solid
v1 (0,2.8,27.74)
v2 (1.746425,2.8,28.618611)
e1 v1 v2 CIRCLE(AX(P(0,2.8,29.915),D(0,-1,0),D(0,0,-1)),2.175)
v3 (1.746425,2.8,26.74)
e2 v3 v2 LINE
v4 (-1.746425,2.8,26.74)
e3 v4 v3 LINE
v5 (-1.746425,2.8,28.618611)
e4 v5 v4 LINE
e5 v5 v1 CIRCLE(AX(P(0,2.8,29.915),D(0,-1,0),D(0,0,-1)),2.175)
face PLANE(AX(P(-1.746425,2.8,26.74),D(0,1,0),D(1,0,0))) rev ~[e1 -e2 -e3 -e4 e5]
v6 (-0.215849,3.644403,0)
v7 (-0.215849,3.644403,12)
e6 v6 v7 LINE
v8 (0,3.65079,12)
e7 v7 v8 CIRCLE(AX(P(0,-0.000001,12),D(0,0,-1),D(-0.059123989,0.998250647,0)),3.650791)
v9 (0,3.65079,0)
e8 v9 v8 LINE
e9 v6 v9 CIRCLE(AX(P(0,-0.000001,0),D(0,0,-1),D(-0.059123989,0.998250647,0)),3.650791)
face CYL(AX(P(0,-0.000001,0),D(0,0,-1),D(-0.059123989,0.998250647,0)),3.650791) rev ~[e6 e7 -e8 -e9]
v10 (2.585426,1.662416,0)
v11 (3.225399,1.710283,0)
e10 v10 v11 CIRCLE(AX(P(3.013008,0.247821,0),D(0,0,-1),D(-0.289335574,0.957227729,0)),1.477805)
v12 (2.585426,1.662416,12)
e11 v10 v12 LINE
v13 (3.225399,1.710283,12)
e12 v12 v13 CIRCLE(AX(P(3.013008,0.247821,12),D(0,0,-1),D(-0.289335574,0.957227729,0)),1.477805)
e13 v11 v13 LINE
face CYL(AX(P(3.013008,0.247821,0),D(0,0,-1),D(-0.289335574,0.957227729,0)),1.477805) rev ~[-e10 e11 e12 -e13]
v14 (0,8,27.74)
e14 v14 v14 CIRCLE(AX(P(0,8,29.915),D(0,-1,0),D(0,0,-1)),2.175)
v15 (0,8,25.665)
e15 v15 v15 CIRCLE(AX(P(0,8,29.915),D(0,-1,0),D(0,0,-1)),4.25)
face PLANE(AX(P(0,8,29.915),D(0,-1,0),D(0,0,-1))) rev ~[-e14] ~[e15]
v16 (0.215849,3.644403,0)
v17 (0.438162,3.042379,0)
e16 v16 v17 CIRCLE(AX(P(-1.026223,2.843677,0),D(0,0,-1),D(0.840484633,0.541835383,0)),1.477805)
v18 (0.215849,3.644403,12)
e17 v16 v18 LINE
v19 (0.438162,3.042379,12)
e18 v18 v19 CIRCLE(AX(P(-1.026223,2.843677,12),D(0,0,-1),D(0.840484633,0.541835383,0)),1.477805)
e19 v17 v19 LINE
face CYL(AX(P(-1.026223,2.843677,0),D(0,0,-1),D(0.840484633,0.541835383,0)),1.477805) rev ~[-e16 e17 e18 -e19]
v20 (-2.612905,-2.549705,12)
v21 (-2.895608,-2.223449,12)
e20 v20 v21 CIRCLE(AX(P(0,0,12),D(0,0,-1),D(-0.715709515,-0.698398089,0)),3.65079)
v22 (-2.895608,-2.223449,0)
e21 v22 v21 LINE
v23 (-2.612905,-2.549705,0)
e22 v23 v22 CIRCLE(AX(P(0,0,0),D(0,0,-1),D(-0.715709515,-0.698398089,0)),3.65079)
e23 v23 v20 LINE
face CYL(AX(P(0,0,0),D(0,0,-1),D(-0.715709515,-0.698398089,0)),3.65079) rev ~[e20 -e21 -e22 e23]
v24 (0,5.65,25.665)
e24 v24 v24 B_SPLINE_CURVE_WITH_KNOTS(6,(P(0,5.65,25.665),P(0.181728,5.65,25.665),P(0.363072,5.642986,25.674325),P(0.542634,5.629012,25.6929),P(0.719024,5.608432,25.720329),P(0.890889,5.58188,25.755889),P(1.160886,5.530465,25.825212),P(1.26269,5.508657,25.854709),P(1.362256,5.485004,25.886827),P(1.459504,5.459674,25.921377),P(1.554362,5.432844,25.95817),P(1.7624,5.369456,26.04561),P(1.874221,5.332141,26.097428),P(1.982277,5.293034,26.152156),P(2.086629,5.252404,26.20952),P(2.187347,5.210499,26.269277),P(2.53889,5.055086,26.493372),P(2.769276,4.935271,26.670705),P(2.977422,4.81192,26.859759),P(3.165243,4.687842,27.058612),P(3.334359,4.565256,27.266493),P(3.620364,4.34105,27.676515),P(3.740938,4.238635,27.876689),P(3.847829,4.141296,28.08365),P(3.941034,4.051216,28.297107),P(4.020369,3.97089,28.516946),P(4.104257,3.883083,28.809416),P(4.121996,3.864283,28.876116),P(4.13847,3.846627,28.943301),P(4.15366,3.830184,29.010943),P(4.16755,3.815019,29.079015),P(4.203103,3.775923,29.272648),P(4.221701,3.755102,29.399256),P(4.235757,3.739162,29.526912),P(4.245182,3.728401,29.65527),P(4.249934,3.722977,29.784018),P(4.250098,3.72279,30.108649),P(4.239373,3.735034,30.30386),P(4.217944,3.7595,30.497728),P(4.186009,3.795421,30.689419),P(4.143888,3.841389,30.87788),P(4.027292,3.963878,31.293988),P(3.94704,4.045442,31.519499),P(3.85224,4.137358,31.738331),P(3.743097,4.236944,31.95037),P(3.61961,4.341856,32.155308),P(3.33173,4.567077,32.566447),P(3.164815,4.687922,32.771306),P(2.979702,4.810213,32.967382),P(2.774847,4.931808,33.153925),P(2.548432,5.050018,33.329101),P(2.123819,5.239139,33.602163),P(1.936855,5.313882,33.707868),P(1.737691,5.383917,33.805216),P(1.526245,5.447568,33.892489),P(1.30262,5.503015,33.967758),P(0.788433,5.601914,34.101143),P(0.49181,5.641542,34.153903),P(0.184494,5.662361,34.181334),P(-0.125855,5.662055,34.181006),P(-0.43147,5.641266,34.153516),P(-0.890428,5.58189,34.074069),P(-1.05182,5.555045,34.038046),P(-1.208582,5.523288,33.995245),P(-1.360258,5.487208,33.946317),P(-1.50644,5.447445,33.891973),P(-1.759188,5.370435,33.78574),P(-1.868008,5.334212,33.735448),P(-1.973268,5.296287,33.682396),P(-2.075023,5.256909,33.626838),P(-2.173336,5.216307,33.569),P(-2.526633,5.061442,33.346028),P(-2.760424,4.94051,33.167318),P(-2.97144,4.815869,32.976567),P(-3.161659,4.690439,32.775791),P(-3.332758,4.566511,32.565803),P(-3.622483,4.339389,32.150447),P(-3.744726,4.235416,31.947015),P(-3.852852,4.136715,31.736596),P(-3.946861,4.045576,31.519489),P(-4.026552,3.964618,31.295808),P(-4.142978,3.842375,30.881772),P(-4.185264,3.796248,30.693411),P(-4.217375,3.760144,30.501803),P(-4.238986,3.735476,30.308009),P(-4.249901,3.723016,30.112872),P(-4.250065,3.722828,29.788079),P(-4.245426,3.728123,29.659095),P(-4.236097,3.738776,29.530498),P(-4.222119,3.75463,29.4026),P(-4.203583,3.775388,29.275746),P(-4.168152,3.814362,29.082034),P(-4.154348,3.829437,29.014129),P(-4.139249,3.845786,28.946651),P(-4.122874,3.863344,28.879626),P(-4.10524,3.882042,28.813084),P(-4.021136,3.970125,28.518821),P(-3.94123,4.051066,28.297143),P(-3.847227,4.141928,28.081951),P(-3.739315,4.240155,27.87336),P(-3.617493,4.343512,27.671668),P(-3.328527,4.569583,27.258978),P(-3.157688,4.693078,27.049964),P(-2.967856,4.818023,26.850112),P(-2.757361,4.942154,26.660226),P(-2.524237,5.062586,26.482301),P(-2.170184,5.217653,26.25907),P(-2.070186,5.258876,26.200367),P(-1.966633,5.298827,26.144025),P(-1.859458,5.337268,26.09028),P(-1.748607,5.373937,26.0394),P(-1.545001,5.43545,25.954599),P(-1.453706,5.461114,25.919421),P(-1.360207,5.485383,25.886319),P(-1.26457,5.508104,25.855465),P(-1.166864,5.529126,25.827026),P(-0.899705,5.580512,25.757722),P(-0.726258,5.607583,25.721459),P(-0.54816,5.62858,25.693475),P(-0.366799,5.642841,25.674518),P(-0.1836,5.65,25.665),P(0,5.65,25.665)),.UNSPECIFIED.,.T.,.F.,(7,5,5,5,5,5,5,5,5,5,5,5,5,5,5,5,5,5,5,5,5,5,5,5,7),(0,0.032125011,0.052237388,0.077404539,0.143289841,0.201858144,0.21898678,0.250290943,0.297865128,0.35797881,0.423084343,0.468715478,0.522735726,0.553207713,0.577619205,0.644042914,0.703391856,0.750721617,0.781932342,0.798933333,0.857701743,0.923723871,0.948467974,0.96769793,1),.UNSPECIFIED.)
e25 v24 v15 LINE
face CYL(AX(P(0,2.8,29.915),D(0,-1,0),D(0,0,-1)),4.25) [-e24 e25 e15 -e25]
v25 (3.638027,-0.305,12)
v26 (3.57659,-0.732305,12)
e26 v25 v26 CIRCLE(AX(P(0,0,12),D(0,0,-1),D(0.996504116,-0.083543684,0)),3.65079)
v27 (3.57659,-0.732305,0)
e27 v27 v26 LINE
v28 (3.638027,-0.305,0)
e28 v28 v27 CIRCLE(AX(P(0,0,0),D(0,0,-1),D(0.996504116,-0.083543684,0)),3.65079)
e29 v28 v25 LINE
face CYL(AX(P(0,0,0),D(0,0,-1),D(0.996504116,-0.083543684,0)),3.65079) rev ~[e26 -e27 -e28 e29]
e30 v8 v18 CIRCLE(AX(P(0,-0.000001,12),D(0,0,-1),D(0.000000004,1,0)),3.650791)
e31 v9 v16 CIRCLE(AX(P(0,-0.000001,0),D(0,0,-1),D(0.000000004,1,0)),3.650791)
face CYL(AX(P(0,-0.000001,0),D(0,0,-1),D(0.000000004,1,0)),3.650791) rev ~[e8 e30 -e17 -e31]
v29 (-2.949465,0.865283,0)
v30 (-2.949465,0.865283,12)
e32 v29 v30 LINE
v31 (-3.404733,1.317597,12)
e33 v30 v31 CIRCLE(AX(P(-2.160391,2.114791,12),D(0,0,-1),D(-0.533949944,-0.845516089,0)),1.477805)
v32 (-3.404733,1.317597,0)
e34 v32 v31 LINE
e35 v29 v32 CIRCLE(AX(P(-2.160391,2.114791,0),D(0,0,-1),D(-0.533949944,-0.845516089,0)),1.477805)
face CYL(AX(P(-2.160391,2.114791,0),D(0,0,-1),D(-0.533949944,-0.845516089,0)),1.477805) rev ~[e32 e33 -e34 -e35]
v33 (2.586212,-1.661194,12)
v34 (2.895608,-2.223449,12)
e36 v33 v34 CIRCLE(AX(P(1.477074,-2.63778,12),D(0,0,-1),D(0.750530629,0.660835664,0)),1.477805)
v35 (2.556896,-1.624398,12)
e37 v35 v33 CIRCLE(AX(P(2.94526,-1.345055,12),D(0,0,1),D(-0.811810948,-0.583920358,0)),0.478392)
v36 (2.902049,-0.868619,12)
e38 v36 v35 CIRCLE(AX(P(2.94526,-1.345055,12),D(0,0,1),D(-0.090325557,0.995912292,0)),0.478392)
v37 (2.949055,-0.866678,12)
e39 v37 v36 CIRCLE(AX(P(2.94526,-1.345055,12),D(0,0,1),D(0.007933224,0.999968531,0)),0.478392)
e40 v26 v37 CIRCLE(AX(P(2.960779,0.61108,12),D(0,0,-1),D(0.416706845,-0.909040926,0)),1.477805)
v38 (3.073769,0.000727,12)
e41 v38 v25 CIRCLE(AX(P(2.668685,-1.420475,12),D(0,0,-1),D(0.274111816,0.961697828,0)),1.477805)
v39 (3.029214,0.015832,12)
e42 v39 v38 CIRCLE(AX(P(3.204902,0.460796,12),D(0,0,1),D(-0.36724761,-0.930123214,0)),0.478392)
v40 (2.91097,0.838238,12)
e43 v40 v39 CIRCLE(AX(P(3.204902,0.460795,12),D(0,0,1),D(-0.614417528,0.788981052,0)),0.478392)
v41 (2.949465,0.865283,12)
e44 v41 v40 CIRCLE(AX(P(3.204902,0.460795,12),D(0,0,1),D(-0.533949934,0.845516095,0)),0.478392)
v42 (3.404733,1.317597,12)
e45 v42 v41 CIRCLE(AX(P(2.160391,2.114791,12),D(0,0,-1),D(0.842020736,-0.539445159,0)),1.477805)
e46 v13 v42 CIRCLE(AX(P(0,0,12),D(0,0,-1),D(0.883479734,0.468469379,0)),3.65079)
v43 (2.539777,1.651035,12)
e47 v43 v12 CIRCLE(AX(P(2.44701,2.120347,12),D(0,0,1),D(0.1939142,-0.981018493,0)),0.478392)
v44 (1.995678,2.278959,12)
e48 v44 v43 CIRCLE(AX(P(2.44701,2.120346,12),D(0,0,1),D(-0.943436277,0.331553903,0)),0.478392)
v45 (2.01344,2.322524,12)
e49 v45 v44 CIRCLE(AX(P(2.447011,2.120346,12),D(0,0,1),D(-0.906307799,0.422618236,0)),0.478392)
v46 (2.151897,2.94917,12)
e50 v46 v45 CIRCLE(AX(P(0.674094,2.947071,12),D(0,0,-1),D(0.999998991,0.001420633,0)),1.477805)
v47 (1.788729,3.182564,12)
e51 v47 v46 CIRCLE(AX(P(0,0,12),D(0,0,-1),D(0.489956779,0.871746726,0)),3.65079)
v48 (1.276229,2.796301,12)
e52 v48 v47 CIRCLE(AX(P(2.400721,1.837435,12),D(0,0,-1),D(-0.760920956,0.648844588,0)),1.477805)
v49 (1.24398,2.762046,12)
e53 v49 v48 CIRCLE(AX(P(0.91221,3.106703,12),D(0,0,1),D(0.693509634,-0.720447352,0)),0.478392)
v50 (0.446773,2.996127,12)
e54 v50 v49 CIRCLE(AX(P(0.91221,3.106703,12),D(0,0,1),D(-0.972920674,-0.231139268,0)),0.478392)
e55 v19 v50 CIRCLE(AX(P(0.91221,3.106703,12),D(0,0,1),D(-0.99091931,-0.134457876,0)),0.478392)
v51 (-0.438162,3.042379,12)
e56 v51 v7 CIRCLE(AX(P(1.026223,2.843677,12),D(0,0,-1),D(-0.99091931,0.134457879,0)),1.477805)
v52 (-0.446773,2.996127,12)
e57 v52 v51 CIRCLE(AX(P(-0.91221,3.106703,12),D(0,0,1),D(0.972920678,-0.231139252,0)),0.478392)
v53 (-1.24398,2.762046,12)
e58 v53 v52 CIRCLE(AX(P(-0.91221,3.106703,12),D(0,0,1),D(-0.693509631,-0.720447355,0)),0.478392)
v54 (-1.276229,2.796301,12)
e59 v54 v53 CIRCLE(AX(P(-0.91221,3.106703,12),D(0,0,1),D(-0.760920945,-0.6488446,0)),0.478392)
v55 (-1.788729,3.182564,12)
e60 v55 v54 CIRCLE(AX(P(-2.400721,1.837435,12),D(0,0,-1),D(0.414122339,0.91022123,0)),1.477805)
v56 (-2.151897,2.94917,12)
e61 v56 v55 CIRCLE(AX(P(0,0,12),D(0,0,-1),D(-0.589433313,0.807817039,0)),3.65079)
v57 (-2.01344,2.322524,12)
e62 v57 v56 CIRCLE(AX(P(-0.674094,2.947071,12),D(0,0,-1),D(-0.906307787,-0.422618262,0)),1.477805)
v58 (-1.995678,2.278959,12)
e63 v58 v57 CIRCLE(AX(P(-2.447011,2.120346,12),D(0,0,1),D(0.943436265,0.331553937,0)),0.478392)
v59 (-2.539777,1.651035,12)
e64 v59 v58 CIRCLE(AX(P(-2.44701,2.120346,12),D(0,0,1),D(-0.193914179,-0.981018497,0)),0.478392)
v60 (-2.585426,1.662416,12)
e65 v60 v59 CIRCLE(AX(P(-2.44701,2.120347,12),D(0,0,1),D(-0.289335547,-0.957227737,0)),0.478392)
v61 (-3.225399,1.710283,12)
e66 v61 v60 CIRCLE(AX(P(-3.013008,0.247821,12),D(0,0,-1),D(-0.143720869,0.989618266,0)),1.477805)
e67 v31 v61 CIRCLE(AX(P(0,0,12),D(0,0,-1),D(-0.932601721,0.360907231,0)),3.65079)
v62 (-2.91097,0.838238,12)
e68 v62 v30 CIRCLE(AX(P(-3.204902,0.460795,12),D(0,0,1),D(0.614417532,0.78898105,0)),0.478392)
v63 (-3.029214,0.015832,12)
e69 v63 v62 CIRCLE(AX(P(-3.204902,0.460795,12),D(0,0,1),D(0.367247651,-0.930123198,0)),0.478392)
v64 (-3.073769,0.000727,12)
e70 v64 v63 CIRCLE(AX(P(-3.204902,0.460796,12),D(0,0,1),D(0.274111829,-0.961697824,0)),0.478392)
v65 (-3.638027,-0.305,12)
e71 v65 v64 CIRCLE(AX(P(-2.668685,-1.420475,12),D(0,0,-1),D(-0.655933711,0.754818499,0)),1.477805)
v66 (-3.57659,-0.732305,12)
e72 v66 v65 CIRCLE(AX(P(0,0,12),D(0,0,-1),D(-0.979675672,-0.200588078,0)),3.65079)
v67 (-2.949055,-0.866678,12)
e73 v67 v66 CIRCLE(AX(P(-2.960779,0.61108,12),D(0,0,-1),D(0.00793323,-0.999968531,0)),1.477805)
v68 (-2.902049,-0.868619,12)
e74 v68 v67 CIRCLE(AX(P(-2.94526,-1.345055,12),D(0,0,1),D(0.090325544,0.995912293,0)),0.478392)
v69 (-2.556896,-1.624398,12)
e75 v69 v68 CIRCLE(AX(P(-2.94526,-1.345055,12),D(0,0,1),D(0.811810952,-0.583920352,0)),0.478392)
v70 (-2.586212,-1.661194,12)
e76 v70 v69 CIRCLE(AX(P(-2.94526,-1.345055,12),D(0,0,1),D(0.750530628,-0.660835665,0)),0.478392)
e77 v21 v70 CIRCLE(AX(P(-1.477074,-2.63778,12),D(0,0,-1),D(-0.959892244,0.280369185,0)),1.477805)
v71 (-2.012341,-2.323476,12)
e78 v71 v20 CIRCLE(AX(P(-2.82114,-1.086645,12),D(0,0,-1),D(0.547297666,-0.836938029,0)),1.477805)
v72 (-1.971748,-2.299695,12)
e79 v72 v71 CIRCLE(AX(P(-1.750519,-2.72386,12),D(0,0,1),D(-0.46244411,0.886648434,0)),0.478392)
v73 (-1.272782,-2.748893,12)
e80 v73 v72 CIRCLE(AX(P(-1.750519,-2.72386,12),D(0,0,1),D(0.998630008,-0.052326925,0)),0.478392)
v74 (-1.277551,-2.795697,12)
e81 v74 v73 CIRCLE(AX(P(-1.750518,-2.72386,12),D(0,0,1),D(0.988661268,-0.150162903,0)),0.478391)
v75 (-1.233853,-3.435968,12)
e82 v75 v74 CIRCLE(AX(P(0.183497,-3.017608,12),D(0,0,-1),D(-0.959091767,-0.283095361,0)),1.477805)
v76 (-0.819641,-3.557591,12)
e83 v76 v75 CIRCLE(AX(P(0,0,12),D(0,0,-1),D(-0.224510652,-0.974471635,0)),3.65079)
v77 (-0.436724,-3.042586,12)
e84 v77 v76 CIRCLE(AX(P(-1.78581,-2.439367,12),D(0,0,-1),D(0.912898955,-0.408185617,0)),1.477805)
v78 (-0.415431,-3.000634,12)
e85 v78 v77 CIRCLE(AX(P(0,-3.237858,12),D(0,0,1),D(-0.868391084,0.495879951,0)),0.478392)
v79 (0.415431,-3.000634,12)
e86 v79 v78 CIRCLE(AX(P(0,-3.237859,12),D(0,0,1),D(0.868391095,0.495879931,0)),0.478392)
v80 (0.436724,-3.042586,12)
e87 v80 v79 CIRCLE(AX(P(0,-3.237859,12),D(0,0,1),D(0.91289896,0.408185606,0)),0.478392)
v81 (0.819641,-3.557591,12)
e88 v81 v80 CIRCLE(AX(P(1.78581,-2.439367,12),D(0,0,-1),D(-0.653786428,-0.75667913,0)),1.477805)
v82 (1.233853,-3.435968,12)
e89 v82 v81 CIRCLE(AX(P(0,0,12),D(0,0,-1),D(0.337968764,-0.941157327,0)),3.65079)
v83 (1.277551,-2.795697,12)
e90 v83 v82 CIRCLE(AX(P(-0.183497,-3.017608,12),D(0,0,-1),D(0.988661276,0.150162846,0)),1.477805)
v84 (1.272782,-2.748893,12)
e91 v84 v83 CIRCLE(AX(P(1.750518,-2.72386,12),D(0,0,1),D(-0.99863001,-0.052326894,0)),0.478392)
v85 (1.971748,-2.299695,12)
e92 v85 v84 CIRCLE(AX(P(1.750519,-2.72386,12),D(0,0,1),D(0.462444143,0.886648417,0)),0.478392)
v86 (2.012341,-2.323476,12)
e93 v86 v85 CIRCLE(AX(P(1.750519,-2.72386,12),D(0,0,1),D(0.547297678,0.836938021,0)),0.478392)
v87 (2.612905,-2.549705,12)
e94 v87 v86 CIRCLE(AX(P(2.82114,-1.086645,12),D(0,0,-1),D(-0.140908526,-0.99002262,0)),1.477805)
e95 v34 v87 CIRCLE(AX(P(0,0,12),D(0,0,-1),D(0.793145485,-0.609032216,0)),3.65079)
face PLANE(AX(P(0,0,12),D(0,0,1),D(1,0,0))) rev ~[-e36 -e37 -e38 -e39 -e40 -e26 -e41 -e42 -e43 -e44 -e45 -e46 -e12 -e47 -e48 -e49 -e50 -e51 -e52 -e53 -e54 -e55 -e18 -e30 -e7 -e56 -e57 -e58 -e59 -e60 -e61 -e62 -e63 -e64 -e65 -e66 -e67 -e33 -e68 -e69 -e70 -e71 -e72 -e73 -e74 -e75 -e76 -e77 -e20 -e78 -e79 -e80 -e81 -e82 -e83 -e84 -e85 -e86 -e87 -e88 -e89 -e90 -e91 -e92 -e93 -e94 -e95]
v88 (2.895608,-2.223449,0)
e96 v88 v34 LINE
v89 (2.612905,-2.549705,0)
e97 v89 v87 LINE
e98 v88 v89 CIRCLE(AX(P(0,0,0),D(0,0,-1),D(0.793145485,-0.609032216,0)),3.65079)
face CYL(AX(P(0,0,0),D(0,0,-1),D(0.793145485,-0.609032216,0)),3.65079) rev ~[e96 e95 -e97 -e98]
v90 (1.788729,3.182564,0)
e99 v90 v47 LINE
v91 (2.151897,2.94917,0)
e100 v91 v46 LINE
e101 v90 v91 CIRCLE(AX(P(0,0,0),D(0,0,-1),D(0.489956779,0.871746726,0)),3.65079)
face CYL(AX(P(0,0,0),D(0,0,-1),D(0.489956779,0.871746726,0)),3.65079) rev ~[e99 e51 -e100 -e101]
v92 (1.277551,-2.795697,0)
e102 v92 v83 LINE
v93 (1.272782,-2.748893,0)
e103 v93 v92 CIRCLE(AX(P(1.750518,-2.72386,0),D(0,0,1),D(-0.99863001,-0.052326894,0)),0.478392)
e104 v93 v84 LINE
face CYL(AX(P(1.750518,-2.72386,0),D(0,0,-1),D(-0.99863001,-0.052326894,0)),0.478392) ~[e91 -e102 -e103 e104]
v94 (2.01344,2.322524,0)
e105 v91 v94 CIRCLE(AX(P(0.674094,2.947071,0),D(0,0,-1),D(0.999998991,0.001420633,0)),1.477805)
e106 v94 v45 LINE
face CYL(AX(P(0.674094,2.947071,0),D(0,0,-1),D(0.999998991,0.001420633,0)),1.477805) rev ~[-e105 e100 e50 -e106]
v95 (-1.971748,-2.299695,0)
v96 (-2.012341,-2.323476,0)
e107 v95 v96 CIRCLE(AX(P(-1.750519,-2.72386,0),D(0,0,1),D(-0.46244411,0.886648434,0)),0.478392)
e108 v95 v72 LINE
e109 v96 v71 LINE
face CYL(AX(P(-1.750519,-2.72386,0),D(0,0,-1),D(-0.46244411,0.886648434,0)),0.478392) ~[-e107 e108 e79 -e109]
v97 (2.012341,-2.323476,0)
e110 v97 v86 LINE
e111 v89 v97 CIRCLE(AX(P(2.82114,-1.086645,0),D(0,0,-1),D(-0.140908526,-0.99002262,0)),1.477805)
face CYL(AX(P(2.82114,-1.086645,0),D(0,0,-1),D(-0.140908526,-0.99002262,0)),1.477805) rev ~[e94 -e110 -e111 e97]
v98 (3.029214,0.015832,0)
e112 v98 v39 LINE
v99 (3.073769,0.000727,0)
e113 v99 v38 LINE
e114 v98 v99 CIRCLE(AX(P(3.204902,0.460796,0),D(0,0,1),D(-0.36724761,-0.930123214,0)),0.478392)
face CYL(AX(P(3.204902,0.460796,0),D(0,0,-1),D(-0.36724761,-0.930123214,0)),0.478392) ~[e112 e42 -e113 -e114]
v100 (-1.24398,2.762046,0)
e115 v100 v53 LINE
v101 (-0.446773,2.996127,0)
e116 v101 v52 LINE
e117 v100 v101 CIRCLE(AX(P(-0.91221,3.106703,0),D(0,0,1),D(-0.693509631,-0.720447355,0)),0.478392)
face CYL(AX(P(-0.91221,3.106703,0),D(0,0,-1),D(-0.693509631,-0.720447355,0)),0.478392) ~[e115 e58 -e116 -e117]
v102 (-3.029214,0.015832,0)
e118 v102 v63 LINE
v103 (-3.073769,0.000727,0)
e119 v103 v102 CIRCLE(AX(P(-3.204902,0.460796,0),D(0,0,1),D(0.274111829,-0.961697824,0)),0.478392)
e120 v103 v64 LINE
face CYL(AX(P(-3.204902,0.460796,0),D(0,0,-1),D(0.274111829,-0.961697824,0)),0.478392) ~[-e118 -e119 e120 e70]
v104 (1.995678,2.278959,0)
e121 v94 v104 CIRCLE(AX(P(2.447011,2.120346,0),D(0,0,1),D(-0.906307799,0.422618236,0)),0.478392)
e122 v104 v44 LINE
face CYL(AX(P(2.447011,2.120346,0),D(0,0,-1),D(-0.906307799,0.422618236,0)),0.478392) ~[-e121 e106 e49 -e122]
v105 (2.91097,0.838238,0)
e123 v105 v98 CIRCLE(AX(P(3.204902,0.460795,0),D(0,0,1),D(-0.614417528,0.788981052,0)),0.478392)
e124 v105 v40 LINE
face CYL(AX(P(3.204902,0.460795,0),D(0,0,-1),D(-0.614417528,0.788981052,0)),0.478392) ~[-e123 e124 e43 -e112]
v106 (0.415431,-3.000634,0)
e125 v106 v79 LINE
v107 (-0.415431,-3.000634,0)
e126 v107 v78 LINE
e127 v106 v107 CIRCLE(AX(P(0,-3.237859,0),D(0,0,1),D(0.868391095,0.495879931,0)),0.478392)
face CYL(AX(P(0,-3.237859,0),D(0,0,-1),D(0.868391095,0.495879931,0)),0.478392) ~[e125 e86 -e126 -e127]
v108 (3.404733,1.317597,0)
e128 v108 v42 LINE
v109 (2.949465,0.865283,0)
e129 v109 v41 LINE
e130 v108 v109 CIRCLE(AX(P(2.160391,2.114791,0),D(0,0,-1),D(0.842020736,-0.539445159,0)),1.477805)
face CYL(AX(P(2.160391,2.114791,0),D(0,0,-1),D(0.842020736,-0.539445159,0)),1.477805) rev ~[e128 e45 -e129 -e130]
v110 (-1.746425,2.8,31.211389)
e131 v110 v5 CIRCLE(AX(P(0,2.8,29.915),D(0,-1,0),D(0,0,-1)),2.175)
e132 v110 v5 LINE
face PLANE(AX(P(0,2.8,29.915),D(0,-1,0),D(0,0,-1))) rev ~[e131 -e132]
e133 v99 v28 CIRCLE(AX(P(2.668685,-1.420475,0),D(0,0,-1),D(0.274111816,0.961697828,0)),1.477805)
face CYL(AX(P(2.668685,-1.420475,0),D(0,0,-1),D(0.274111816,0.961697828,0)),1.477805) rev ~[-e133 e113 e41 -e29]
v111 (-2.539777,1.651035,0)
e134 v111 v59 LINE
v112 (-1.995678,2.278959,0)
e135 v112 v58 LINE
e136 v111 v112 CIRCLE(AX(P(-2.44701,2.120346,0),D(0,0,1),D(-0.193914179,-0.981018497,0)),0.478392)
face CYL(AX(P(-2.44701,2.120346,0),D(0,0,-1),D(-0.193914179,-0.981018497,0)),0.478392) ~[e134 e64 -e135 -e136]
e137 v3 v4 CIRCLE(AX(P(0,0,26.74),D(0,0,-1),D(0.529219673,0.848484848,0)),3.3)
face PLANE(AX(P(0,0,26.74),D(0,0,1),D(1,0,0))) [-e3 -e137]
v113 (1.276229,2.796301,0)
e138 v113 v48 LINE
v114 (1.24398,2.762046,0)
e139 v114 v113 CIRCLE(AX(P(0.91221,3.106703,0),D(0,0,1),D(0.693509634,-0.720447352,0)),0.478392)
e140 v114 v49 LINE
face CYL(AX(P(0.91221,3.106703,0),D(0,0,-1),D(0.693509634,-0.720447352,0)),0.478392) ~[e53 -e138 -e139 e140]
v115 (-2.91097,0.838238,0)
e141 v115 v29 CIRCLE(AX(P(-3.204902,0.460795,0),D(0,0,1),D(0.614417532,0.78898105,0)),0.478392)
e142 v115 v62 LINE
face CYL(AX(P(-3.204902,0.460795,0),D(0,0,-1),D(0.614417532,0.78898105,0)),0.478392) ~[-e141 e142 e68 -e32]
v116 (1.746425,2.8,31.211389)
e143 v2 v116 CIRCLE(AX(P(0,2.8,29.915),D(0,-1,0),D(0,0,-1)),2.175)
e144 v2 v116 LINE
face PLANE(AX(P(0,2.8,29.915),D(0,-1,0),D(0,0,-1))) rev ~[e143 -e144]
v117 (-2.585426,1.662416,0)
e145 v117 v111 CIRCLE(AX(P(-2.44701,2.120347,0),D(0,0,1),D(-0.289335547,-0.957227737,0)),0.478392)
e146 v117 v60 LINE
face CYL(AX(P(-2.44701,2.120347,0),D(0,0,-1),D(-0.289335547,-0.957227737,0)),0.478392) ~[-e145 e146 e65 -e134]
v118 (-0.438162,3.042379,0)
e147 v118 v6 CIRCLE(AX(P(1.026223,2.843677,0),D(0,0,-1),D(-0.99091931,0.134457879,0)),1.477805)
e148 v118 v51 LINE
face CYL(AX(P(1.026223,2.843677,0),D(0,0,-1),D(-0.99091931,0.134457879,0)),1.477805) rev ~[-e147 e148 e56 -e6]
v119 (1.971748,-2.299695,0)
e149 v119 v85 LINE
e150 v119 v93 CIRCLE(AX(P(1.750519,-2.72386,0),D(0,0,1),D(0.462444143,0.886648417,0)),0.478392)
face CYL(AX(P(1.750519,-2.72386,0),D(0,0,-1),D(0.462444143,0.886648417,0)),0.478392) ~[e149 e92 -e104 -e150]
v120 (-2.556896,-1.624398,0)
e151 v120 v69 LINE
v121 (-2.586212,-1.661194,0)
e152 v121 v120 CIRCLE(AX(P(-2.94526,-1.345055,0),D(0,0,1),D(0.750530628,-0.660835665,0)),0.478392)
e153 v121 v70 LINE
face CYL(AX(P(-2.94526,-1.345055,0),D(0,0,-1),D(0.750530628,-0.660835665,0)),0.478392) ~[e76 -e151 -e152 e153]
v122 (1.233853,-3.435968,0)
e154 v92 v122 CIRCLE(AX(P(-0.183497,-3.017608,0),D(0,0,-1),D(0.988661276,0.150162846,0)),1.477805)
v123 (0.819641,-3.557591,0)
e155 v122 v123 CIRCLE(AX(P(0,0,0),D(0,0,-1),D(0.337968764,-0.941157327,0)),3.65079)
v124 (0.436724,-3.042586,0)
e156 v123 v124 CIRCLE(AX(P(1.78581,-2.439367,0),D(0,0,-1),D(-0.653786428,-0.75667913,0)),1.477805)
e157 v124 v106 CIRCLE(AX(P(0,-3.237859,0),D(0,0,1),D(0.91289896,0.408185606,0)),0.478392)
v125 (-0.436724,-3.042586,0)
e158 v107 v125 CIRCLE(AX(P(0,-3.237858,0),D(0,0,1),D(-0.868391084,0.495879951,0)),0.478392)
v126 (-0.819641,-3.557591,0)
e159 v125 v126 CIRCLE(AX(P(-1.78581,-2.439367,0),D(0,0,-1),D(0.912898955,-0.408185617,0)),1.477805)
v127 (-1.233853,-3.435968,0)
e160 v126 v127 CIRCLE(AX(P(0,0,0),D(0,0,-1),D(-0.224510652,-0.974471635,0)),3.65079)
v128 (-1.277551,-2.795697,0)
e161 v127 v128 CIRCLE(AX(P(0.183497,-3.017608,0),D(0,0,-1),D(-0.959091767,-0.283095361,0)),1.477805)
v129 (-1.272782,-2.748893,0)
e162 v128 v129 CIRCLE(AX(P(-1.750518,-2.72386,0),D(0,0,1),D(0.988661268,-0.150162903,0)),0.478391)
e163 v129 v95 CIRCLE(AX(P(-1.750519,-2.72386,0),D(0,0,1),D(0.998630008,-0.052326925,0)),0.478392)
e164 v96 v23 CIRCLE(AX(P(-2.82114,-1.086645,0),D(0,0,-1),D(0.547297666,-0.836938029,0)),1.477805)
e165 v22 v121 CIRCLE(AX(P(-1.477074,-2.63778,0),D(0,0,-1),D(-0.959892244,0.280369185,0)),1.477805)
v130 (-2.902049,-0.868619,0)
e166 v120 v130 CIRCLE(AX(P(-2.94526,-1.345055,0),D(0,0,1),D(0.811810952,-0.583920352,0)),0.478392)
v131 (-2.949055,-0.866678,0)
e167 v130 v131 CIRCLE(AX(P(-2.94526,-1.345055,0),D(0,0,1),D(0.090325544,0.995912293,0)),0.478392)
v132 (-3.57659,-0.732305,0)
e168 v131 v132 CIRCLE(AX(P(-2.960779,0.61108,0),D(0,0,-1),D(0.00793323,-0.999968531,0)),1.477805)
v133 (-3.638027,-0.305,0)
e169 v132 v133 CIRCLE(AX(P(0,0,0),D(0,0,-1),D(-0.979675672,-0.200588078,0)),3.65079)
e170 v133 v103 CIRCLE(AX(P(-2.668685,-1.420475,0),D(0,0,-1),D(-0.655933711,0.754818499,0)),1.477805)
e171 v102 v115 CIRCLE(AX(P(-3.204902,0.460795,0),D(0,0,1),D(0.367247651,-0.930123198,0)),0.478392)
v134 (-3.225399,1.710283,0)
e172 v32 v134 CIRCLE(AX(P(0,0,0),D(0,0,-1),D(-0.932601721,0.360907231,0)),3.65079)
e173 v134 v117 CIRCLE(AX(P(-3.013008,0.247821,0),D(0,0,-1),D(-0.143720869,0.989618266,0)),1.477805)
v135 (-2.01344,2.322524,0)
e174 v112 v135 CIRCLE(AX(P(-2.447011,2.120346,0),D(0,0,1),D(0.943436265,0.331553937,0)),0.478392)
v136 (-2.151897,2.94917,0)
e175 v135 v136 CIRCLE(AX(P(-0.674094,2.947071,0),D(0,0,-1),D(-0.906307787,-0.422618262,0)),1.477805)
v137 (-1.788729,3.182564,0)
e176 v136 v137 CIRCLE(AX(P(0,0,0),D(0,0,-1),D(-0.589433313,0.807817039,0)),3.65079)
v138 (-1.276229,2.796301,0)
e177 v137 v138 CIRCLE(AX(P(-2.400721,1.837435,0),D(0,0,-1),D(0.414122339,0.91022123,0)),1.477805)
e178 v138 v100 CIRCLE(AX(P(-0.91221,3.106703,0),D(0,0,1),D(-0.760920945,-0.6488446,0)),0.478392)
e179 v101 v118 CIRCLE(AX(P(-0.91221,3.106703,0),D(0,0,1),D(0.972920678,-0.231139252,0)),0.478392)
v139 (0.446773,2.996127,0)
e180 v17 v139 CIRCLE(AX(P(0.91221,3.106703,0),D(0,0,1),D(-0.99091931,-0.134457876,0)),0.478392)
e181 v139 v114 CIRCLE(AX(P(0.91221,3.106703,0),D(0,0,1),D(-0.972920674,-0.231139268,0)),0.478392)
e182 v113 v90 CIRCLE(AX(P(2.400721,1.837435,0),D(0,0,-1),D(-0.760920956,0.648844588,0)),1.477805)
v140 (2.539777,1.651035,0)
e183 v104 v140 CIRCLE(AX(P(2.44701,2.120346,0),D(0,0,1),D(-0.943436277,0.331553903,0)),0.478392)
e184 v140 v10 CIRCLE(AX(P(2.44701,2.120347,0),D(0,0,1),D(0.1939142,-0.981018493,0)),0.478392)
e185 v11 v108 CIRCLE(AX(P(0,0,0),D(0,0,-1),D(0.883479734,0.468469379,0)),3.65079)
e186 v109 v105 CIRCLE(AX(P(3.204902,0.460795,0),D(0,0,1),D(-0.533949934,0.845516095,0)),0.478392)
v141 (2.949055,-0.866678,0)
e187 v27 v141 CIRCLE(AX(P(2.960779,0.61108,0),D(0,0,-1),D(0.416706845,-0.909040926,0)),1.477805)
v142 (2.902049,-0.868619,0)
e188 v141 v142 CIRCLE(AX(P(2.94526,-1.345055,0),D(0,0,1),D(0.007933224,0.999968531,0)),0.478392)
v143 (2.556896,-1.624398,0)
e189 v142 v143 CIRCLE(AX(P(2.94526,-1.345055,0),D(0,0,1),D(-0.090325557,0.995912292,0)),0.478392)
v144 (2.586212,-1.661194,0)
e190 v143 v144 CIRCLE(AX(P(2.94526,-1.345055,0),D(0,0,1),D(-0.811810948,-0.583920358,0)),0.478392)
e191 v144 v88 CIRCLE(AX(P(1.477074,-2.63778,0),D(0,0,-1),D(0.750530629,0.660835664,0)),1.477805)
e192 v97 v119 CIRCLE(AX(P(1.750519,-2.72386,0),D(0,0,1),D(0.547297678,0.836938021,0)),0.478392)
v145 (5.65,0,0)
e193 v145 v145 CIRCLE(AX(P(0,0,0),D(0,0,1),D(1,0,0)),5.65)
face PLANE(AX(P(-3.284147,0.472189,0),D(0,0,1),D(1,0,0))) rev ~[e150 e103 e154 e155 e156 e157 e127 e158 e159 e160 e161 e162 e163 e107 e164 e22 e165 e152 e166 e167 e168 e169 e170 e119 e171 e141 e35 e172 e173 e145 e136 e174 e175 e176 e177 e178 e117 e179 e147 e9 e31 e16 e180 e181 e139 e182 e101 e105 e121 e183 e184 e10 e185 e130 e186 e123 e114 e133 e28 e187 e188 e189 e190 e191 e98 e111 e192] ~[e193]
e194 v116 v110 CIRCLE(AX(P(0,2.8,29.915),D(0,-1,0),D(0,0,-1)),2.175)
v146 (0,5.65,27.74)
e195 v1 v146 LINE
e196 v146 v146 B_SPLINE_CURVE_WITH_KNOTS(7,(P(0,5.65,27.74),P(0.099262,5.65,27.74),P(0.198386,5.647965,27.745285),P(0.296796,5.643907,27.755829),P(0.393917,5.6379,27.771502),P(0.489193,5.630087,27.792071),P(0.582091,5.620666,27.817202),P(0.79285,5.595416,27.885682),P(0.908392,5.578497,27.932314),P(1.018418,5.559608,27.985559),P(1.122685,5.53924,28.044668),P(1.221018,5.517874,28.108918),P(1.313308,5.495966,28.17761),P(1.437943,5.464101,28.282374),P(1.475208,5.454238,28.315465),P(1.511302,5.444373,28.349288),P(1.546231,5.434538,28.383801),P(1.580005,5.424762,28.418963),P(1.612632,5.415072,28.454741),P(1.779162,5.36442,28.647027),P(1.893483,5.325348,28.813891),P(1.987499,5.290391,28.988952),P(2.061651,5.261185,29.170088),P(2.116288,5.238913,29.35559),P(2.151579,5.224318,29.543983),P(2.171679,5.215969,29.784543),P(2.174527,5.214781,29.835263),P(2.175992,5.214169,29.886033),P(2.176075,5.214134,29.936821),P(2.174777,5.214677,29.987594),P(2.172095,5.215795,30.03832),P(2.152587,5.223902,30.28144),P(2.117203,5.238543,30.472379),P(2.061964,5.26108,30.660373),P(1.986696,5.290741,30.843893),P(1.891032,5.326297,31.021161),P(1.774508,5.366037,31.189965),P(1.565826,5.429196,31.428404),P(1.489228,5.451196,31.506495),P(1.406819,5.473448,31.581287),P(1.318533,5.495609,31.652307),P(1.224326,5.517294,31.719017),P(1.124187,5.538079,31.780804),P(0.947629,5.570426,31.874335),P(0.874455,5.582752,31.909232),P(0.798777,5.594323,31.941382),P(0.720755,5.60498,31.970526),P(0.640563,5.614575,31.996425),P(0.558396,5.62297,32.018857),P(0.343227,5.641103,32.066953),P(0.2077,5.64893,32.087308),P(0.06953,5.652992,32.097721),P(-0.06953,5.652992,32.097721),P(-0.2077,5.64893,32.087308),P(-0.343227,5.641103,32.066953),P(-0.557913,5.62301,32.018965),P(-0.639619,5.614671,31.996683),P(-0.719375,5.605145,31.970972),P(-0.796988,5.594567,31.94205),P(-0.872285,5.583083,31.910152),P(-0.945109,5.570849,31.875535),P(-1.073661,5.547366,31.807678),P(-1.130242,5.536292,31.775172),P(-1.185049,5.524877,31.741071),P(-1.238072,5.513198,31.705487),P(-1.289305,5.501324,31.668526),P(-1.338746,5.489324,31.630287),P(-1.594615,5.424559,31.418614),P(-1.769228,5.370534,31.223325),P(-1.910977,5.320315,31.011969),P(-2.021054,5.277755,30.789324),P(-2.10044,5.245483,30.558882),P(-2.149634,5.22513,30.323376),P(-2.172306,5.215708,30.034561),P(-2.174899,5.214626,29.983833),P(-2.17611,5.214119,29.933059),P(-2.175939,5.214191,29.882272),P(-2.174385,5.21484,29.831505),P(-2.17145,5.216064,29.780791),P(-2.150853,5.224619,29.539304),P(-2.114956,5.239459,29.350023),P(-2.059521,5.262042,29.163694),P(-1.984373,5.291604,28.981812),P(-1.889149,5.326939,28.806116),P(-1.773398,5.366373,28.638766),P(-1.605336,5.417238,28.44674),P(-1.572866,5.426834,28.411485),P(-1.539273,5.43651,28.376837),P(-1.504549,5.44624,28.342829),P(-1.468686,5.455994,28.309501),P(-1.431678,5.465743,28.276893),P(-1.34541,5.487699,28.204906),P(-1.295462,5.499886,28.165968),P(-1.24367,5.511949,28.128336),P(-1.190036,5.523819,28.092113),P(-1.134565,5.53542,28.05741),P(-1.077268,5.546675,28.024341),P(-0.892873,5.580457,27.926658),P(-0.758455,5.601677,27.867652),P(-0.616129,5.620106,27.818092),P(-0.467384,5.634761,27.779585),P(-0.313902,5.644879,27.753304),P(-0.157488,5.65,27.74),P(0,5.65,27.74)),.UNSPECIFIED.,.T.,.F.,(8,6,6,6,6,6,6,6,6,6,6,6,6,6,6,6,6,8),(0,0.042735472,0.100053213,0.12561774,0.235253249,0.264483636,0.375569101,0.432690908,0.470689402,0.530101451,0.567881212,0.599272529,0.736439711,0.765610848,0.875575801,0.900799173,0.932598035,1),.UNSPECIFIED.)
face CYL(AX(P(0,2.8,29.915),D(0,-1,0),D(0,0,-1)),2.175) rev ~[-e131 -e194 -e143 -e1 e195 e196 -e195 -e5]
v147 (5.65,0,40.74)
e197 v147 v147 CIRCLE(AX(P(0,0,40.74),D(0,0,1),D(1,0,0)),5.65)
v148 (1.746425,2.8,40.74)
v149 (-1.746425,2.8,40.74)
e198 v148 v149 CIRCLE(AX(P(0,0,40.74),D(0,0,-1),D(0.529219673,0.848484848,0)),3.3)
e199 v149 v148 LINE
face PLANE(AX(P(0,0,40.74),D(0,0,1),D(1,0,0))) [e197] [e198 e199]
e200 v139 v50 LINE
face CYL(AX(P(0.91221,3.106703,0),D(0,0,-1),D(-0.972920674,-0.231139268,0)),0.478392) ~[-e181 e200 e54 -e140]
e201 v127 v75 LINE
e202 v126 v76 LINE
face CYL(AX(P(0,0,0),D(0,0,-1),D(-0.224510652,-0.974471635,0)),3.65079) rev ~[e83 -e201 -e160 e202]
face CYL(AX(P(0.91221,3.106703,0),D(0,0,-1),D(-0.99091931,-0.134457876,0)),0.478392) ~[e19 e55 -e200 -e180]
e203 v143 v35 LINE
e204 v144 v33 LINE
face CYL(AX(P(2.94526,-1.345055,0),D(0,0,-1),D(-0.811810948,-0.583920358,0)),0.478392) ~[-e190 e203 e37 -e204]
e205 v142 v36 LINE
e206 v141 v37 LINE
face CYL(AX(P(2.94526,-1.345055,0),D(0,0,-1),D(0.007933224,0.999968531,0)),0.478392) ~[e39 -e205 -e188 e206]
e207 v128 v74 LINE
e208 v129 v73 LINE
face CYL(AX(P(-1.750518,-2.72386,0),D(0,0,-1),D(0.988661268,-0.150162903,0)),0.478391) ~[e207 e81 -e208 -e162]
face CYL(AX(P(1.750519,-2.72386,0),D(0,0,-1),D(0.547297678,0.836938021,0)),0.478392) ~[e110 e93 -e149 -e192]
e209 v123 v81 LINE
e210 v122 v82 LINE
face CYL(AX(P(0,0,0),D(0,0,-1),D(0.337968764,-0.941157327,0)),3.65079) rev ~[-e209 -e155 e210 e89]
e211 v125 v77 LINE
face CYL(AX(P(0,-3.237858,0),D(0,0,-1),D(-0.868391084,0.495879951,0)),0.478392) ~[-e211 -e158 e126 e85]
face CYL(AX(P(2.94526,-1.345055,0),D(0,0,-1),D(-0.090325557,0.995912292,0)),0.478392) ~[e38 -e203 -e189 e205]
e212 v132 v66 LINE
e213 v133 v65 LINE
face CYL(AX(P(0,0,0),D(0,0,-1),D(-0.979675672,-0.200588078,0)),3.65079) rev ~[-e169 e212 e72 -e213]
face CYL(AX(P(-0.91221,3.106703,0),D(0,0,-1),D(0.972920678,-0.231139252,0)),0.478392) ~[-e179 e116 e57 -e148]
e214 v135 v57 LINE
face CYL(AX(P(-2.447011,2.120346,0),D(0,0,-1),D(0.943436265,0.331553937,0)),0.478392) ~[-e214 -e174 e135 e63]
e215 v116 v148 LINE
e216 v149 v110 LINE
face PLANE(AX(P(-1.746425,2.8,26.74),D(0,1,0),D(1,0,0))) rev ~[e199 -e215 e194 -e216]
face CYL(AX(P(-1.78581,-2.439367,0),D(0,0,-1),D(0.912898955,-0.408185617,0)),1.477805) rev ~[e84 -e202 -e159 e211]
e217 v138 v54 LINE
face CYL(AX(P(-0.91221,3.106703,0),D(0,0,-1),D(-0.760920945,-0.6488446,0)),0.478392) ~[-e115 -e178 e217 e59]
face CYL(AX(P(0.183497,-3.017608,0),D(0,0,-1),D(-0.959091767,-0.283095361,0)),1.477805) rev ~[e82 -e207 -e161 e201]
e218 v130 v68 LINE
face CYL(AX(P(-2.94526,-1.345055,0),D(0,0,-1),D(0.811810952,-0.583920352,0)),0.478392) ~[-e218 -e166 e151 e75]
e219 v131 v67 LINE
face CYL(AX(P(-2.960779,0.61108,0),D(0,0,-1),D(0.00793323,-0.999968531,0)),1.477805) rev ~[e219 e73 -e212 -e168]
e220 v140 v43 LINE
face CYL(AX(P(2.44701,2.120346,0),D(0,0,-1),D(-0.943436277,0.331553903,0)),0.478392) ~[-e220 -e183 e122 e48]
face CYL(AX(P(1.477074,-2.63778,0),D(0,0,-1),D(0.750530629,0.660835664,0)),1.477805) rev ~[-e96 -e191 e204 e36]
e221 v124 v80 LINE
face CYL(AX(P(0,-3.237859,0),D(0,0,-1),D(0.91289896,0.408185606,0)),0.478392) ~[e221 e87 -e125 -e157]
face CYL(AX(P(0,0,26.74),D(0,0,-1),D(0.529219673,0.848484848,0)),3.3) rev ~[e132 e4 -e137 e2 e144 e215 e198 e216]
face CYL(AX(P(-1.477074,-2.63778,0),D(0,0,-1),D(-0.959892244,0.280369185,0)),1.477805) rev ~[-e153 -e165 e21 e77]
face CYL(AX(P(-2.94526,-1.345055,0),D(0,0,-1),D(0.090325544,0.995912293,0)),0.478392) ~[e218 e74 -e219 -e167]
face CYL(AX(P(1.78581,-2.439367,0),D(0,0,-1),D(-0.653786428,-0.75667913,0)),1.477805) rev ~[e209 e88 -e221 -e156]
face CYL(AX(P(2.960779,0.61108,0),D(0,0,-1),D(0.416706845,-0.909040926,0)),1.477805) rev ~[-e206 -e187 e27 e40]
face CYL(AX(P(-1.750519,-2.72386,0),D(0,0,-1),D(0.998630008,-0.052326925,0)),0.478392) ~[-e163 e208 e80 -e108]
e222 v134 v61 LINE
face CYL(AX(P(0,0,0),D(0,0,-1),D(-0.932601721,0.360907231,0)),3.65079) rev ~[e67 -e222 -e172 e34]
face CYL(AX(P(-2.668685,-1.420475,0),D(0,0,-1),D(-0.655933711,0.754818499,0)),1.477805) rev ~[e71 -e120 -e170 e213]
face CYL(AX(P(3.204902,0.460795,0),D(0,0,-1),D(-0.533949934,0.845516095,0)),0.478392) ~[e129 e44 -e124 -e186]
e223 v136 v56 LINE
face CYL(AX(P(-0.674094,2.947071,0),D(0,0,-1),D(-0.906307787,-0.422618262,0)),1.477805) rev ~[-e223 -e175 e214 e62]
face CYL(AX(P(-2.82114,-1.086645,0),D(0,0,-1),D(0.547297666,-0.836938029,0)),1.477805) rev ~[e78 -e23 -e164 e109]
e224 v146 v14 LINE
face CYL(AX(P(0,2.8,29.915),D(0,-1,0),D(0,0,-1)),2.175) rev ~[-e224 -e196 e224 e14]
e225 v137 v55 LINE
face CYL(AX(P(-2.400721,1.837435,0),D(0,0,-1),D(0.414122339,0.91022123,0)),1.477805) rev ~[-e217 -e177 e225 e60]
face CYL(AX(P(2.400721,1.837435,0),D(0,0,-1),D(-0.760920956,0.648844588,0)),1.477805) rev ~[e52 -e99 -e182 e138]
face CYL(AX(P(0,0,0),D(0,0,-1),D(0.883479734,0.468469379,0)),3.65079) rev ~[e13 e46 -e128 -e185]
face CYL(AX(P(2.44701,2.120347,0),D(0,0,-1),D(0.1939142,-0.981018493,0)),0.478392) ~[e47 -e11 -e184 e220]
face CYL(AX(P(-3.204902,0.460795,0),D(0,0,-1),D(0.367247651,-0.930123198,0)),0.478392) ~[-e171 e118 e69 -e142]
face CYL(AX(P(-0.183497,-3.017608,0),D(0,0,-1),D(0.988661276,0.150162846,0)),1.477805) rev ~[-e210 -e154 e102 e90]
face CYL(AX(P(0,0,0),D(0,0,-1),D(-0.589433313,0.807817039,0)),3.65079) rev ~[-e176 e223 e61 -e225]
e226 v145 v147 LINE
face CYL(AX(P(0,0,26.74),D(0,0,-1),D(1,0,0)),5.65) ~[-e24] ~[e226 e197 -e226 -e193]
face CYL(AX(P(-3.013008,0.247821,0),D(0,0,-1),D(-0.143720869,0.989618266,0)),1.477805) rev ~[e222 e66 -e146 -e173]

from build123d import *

# Parameters (mm, degrees)
SKETCH1_R           = 5.65
BOSS_EXTRUDE1_DEPTH = 12
SKETCH2_R           = 5.65
BOSS_EXTRUDE2_DEPTH = 14.74
SKETCH3_R           = 5.65
BOSS_EXTRUDE3_DEPTH = 14
SKETCH5_R           = 4.25
SKETCH5_R_2         = 2.175
BOSS_EXTRUDE4_DEPTH = 5.2
SKETCH5_2_R         = 2.175
CUT_EXTRUDE1_DEPTH  = 42.988958203


with BuildPart() as part:
    # Sketch1 → Boss-Extrude1 (new body)
    # profile 1 of 12: a face of its own
    with BuildSketch(Plane.XY):
        Circle(SKETCH1_R)
        with BuildLine():
            ThreePointArc((-0.81964124, -3.557591308), (-1.028546403, -3.50290736), (-1.233852984, -3.435967766))
            ThreePointArc((-1.233852984, -3.435967766), (-1.973766094, -3.071239991), (-2.612905161, -2.549704746))
            ThreePointArc((-2.612905161, -2.549704746), (-2.759082994, -2.390759024), (-2.895607604, -2.223448736))
            ThreePointArc((-2.895607604, -2.223448736), (-3.320875399, -1.516592978), (-3.576590156, -0.732304943))
            ThreePointArc((-3.576590156, -0.732304943), (-3.613630229, -0.519561589), (-3.638027269, -0.305000442))
            ThreePointArc((-3.638027269, -0.305000442), (-3.613630229, 0.519561589), (-3.404733048, 1.317596505))
            ThreePointArc((-3.404733048, 1.317596505), (-3.320875399, 1.516592978), (-3.225398981, 1.710283337))
            ThreePointArc((-3.225398981, 1.710283337), (-2.759082994, 2.390759024), (-2.151897253, 2.949170373))
            ThreePointArc((-2.151897253, 2.949170373), (-1.973766094, 3.071239991), (-1.788729306, 3.182564241))
            ThreePointArc((-1.788729306, 3.182564241), (-1.028546403, 3.50290736), (-0.215849285, 3.644403485))
            ThreePointArc((-0.215849285, 3.644403485), (-0.107971873, 3.649193027), (0, 3.650790007))
            ThreePointArc((0, 3.650790007), (0.107971873, 3.649193027), (0.215849285, 3.644403485))
            ThreePointArc((0.215849285, 3.644403485), (1.028546403, 3.50290736), (1.788729306, 3.182564241))
            ThreePointArc((1.788729306, 3.182564241), (1.973766094, 3.071239991), (2.151897253, 2.949170373))
            ThreePointArc((2.151897253, 2.949170373), (2.759082994, 2.390759024), (3.225398981, 1.710283337))
            ThreePointArc((3.225398981, 1.710283337), (3.320875399, 1.516592978), (3.404733048, 1.317596505))
            ThreePointArc((3.404733048, 1.317596505), (3.588748603, 0.670187395), (3.650790007, 0))
            ThreePointArc((3.650790007, 0), (3.647597927, -0.152633677), (3.638027269, -0.305000442))
            ThreePointArc((3.638027269, -0.305000442), (3.613630229, -0.519561589), (3.576590156, -0.732304943))
            ThreePointArc((3.576590156, -0.732304943), (3.320875399, -1.516592978), (2.895607604, -2.223448736))
            ThreePointArc((2.895607604, -2.223448736), (2.759082994, -2.390759024), (2.612905161, -2.549704746))
            ThreePointArc((2.612905161, -2.549704746), (1.973766094, -3.071239991), (1.233852984, -3.435967766))
            ThreePointArc((1.233852984, -3.435967766), (1.028546403, -3.50290736), (0.81964124, -3.557591308))
            ThreePointArc((0.81964124, -3.557591308), (0, -3.650790007), (-0.81964124, -3.557591308))
        make_face(mode=Mode.SUBTRACT)
    # profile 2 of 12: a face of its own
    with BuildSketch(Plane.XY):
        with BuildLine():
            ThreePointArc((-2.151897253, 2.949170373), (-2.759082994, 2.390759024), (-3.225398981, 1.710283337))
            ThreePointArc((-3.225398981, 1.710283337), (-2.902782795, 1.721509121), (-2.585426091, 1.662416447))
            ThreePointArc((-2.585426091, 1.662416447), (-2.562741672, 1.6561643), (-2.539777266, 1.651035136))
            ThreePointArc((-2.539777266, 1.651035136), (-2.085465777, 1.807066382), (-1.99567797, 2.278959198))
            ThreePointArc((-1.99567797, 2.278959198), (-2.004023102, 2.300959902), (-2.013439941, 2.322523654))
            ThreePointArc((-2.013439941, 2.322523654), (-2.117095704, 2.628240359), (-2.151897253, 2.949170373))
        make_face()
    # profile 3 of 12: a face of its own
    with BuildSketch(Plane.XY):
        with BuildLine():
            ThreePointArc((-0.215849285, 3.644403485), (-1.028546403, 3.50290736), (-1.788729306, 3.182564241))
            ThreePointArc((-1.788729306, 3.182564241), (-1.511258183, 3.017588493), (-1.276228646, 2.796300584))
            ThreePointArc((-1.276228646, 2.796300584), (-1.260525464, 2.77877682), (-1.243979612, 2.762046398))
            ThreePointArc((-1.243979612, 2.762046398), (-0.777431606, 2.6476889), (-0.446772779, 2.996127445))
            ThreePointArc((-0.446772779, 2.996127445), (-0.441898672, 3.019147334), (-0.438162377, 3.042379044))
            ThreePointArc((-0.438162377, 3.042379044), (-0.360080224, 3.355604839), (-0.215849285, 3.644403485))
        make_face()
    # profile 4 of 12: a face of its own
    with BuildSketch(Plane.XY):
        with BuildLine():
            ThreePointArc((1.788729306, 3.182564241), (1.028546403, 3.50290736), (0.215849285, 3.644403485))
            ThreePointArc((0.215849285, 3.644403485), (0.360080224, 3.355604839), (0.438162377, 3.042379044))
            ThreePointArc((0.438162377, 3.042379044), (0.441898672, 3.019147334), (0.446772779, 2.996127445))
            ThreePointArc((0.446772779, 2.996127445), (0.777431606, 2.6476889), (1.243979612, 2.762046398))
            ThreePointArc((1.243979612, 2.762046398), (1.260525464, 2.77877682), (1.276228646, 2.796300584))
            ThreePointArc((1.276228646, 2.796300584), (1.511258183, 3.017588493), (1.788729306, 3.182564241))
        make_face()
    # profile 5 of 12: a face of its own
    with BuildSketch(Plane.XY):
        with BuildLine():
            ThreePointArc((2.585426091, 1.662416447), (2.902782795, 1.721509121), (3.225398981, 1.710283337))
            ThreePointArc((3.225398981, 1.710283337), (2.759082994, 2.390759024), (2.151897253, 2.949170373))
            ThreePointArc((2.151897253, 2.949170373), (2.117095704, 2.628240359), (2.013439941, 2.322523654))
            ThreePointArc((2.013439941, 2.322523654), (2.004023102, 2.300959902), (1.99567797, 2.278959198))
            ThreePointArc((1.99567797, 2.278959198), (2.085465777, 1.807066382), (2.539777266, 1.651035136))
            ThreePointArc((2.539777266, 1.651035136), (2.562741672, 1.6561643), (2.585426091, 1.662416447))
        make_face()
    # profile 6 of 12: a face of its own
    with BuildSketch(Plane.XY):
        with BuildLine():
            ThreePointArc((3.07376902, 0.000726834), (3.372694379, -0.121137234), (3.638027269, -0.305000442))
            ThreePointArc((3.638027269, -0.305000442), (3.647597927, -0.152633677), (3.650790007, 0))
            ThreePointArc((3.650790007, 0), (3.588748603, 0.670187395), (3.404733048, 1.317596505))
            ThreePointArc((3.404733048, 1.317596505), (3.201948257, 1.066428135), (2.94946455, 0.865283413))
            ThreePointArc((2.94946455, 0.865283413), (2.929884357, 0.852233959), (2.910969506, 0.838237507))
            ThreePointArc((2.910969506, 0.838237507), (2.731379298, 0.392713056), (3.029213584, 0.015831883))
            ThreePointArc((3.029213584, 0.015831883), (3.051305506, 0.007731316), (3.07376902, 0.000726834))
        make_face()
    # profile 7 of 12: a face of its own
    with BuildSketch(Plane.XY):
        with BuildLine():
            ThreePointArc((2.586212003, -1.661193544), (2.771799329, -1.925323372), (2.895607604, -2.223448736))
            ThreePointArc((2.895607604, -2.223448736), (3.320875399, -1.516592978), (3.576590156, -0.732304943))
            ThreePointArc((3.576590156, -0.732304943), (3.270204862, -0.833967486), (2.949055004, -0.866678197))
            ThreePointArc((2.949055004, -0.866678197), (2.92552803, -0.867070245), (2.902048792, -0.868618669))
            ThreePointArc((2.902048792, -0.868618669), (2.510099192, -1.146323891), (2.556895991, -1.62439788))
            ThreePointArc((2.556895991, -1.62439788), (2.571101401, -1.643156306), (2.586212003, -1.661193544))
        make_face()
    # profile 8 of 12: a face of its own
    with BuildSketch(Plane.XY):
        with BuildLine():
            ThreePointArc((1.277550948, -2.79569671), (1.290877576, -3.118232944), (1.233852984, -3.435967766))
            ThreePointArc((1.233852984, -3.435967766), (1.973766094, -3.071239991), (2.612905161, -2.549704746))
            ThreePointArc((2.612905161, -2.549704746), (2.300194531, -2.469584323), (2.012341335, -2.323475602))
            ThreePointArc((2.012341335, -2.323475602), (1.992337228, -2.311085771), (1.971748095, -2.299694554))
            ThreePointArc((1.971748095, -2.299694554), (1.491880328, -2.321411101), (1.272781988, -2.748892795))
            ThreePointArc((1.272781988, -2.748892795), (1.274590768, -2.772353412), (1.277550948, -2.79569671))
        make_face()
    # profile 9 of 12: a face of its own
    with BuildSketch(Plane.XY):
        with BuildLine():
            ThreePointArc((-0.436723505, -3.042585922), (-0.599888686, -3.321125588), (-0.81964124, -3.557591308))
            ThreePointArc((-0.81964124, -3.557591308), (0, -3.650790007), (0.81964124, -3.557591308))
            ThreePointArc((0.81964124, -3.557591308), (0.599888686, -3.321125588), (0.436723505, -3.042585922))
            ThreePointArc((0.436723505, -3.042585922), (0.426593428, -3.021347897), (0.415431304, -3.00063367))
            ThreePointArc((0.415431304, -3.00063367), (0, -2.75946669), (-0.415431304, -3.000633669))
            ThreePointArc((-0.415431304, -3.000633669), (-0.426593428, -3.021347896), (-0.436723505, -3.042585922))
        make_face()
    # profile 10 of 12: a face of its own
    with BuildSketch(Plane.XY):
        with BuildLine():
            ThreePointArc((-1.233852984, -3.435967766), (-1.290877576, -3.118232944), (-1.277550949, -2.79569671))
            ThreePointArc((-1.277550949, -2.79569671), (-1.274590768, -2.772353411), (-1.272781988, -2.748892794))
            ThreePointArc((-1.272781988, -2.748892794), (-1.491880327, -2.321411102), (-1.971748091, -2.299694555))
            ThreePointArc((-1.971748091, -2.299694555), (-1.992337225, -2.311085772), (-2.012341332, -2.323475603))
            ThreePointArc((-2.012341332, -2.323475603), (-2.300194529, -2.469584324), (-2.612905161, -2.549704746))
            ThreePointArc((-2.612905161, -2.549704746), (-1.973766094, -3.071239991), (-1.233852984, -3.435967766))
        make_face()
    # profile 11 of 12: a face of its own
    with BuildSketch(Plane.XY):
        with BuildLine():
            ThreePointArc((-3.576590156, -0.732304943), (-3.320875399, -1.516592978), (-2.895607604, -2.223448736))
            ThreePointArc((-2.895607604, -2.223448736), (-2.771799329, -1.925323372), (-2.586212003, -1.661193544))
            ThreePointArc((-2.586212003, -1.661193544), (-2.571101401, -1.643156306), (-2.556895991, -1.62439788))
            ThreePointArc((-2.556895991, -1.62439788), (-2.510099192, -1.146323891), (-2.902048792, -0.868618669))
            ThreePointArc((-2.902048792, -0.868618669), (-2.92552803, -0.867070245), (-2.949055004, -0.866678197))
            ThreePointArc((-2.949055004, -0.866678197), (-3.270204862, -0.833967486), (-3.576590156, -0.732304943))
        make_face()
    # profile 12 of 12: a face of its own
    with BuildSketch(Plane.XY):
        with BuildLine():
            ThreePointArc((-3.404733048, 1.317596505), (-3.613630229, 0.519561589), (-3.638027269, -0.305000442))
            ThreePointArc((-3.638027269, -0.305000442), (-3.372694379, -0.121137234), (-3.07376902, 0.000726834))
            ThreePointArc((-3.07376902, 0.000726834), (-3.051305506, 0.007731316), (-3.029213584, 0.015831883))
            ThreePointArc((-3.029213584, 0.015831883), (-2.731379298, 0.392713056), (-2.910969506, 0.838237507))
            ThreePointArc((-2.910969506, 0.838237507), (-2.929884357, 0.852233959), (-2.94946455, 0.865283413))
            ThreePointArc((-2.94946455, 0.865283413), (-3.201948257, 1.066428135), (-3.404733048, 1.317596505))
        make_face()
    extrude(amount=BOSS_EXTRUDE1_DEPTH)

    # Sketch2 → Boss-Extrude2 (add)
    with BuildSketch(Plane.XY.offset(12)):
        Circle(SKETCH2_R)
    extrude(amount=BOSS_EXTRUDE2_DEPTH)

    # Sketch3 → Boss-Extrude3 (add)
    with BuildSketch(Plane.XY.offset(26.74)):
        Circle(SKETCH3_R)
        with BuildLine():
            Line((-1.74642492, 2.8), (1.74642492, 2.8))
            ThreePointArc((1.74642492, 2.8), (0, -3.3), (-1.74642492, 2.8))
        make_face(mode=Mode.SUBTRACT)
    extrude(amount=BOSS_EXTRUDE3_DEPTH)

    # Sketch5 → Boss-Extrude4 (add)
    with BuildSketch(Plane.XZ.offset(-2.8)):
        with Locations(Location((0, 29.915, 0), (0, 0, 270))):
            Circle(SKETCH5_R)
        with Locations(Location((0, 29.915, 0), (0, 0, 270))):
            Circle(SKETCH5_R_2, mode=Mode.SUBTRACT)
    extrude(amount=-BOSS_EXTRUDE4_DEPTH)

    # Sketch5<2> → Cut-Extrude1 (cut, through all)
    with BuildSketch(Plane.XZ.offset(-2.8)):
        with Locations(Location((0, 29.915, 0), (0, 0, 270))):
            Circle(SKETCH5_2_R)
    extrude(amount=-CUT_EXTRUDE1_DEPTH, mode=Mode.SUBTRACT)


solid = part.part
